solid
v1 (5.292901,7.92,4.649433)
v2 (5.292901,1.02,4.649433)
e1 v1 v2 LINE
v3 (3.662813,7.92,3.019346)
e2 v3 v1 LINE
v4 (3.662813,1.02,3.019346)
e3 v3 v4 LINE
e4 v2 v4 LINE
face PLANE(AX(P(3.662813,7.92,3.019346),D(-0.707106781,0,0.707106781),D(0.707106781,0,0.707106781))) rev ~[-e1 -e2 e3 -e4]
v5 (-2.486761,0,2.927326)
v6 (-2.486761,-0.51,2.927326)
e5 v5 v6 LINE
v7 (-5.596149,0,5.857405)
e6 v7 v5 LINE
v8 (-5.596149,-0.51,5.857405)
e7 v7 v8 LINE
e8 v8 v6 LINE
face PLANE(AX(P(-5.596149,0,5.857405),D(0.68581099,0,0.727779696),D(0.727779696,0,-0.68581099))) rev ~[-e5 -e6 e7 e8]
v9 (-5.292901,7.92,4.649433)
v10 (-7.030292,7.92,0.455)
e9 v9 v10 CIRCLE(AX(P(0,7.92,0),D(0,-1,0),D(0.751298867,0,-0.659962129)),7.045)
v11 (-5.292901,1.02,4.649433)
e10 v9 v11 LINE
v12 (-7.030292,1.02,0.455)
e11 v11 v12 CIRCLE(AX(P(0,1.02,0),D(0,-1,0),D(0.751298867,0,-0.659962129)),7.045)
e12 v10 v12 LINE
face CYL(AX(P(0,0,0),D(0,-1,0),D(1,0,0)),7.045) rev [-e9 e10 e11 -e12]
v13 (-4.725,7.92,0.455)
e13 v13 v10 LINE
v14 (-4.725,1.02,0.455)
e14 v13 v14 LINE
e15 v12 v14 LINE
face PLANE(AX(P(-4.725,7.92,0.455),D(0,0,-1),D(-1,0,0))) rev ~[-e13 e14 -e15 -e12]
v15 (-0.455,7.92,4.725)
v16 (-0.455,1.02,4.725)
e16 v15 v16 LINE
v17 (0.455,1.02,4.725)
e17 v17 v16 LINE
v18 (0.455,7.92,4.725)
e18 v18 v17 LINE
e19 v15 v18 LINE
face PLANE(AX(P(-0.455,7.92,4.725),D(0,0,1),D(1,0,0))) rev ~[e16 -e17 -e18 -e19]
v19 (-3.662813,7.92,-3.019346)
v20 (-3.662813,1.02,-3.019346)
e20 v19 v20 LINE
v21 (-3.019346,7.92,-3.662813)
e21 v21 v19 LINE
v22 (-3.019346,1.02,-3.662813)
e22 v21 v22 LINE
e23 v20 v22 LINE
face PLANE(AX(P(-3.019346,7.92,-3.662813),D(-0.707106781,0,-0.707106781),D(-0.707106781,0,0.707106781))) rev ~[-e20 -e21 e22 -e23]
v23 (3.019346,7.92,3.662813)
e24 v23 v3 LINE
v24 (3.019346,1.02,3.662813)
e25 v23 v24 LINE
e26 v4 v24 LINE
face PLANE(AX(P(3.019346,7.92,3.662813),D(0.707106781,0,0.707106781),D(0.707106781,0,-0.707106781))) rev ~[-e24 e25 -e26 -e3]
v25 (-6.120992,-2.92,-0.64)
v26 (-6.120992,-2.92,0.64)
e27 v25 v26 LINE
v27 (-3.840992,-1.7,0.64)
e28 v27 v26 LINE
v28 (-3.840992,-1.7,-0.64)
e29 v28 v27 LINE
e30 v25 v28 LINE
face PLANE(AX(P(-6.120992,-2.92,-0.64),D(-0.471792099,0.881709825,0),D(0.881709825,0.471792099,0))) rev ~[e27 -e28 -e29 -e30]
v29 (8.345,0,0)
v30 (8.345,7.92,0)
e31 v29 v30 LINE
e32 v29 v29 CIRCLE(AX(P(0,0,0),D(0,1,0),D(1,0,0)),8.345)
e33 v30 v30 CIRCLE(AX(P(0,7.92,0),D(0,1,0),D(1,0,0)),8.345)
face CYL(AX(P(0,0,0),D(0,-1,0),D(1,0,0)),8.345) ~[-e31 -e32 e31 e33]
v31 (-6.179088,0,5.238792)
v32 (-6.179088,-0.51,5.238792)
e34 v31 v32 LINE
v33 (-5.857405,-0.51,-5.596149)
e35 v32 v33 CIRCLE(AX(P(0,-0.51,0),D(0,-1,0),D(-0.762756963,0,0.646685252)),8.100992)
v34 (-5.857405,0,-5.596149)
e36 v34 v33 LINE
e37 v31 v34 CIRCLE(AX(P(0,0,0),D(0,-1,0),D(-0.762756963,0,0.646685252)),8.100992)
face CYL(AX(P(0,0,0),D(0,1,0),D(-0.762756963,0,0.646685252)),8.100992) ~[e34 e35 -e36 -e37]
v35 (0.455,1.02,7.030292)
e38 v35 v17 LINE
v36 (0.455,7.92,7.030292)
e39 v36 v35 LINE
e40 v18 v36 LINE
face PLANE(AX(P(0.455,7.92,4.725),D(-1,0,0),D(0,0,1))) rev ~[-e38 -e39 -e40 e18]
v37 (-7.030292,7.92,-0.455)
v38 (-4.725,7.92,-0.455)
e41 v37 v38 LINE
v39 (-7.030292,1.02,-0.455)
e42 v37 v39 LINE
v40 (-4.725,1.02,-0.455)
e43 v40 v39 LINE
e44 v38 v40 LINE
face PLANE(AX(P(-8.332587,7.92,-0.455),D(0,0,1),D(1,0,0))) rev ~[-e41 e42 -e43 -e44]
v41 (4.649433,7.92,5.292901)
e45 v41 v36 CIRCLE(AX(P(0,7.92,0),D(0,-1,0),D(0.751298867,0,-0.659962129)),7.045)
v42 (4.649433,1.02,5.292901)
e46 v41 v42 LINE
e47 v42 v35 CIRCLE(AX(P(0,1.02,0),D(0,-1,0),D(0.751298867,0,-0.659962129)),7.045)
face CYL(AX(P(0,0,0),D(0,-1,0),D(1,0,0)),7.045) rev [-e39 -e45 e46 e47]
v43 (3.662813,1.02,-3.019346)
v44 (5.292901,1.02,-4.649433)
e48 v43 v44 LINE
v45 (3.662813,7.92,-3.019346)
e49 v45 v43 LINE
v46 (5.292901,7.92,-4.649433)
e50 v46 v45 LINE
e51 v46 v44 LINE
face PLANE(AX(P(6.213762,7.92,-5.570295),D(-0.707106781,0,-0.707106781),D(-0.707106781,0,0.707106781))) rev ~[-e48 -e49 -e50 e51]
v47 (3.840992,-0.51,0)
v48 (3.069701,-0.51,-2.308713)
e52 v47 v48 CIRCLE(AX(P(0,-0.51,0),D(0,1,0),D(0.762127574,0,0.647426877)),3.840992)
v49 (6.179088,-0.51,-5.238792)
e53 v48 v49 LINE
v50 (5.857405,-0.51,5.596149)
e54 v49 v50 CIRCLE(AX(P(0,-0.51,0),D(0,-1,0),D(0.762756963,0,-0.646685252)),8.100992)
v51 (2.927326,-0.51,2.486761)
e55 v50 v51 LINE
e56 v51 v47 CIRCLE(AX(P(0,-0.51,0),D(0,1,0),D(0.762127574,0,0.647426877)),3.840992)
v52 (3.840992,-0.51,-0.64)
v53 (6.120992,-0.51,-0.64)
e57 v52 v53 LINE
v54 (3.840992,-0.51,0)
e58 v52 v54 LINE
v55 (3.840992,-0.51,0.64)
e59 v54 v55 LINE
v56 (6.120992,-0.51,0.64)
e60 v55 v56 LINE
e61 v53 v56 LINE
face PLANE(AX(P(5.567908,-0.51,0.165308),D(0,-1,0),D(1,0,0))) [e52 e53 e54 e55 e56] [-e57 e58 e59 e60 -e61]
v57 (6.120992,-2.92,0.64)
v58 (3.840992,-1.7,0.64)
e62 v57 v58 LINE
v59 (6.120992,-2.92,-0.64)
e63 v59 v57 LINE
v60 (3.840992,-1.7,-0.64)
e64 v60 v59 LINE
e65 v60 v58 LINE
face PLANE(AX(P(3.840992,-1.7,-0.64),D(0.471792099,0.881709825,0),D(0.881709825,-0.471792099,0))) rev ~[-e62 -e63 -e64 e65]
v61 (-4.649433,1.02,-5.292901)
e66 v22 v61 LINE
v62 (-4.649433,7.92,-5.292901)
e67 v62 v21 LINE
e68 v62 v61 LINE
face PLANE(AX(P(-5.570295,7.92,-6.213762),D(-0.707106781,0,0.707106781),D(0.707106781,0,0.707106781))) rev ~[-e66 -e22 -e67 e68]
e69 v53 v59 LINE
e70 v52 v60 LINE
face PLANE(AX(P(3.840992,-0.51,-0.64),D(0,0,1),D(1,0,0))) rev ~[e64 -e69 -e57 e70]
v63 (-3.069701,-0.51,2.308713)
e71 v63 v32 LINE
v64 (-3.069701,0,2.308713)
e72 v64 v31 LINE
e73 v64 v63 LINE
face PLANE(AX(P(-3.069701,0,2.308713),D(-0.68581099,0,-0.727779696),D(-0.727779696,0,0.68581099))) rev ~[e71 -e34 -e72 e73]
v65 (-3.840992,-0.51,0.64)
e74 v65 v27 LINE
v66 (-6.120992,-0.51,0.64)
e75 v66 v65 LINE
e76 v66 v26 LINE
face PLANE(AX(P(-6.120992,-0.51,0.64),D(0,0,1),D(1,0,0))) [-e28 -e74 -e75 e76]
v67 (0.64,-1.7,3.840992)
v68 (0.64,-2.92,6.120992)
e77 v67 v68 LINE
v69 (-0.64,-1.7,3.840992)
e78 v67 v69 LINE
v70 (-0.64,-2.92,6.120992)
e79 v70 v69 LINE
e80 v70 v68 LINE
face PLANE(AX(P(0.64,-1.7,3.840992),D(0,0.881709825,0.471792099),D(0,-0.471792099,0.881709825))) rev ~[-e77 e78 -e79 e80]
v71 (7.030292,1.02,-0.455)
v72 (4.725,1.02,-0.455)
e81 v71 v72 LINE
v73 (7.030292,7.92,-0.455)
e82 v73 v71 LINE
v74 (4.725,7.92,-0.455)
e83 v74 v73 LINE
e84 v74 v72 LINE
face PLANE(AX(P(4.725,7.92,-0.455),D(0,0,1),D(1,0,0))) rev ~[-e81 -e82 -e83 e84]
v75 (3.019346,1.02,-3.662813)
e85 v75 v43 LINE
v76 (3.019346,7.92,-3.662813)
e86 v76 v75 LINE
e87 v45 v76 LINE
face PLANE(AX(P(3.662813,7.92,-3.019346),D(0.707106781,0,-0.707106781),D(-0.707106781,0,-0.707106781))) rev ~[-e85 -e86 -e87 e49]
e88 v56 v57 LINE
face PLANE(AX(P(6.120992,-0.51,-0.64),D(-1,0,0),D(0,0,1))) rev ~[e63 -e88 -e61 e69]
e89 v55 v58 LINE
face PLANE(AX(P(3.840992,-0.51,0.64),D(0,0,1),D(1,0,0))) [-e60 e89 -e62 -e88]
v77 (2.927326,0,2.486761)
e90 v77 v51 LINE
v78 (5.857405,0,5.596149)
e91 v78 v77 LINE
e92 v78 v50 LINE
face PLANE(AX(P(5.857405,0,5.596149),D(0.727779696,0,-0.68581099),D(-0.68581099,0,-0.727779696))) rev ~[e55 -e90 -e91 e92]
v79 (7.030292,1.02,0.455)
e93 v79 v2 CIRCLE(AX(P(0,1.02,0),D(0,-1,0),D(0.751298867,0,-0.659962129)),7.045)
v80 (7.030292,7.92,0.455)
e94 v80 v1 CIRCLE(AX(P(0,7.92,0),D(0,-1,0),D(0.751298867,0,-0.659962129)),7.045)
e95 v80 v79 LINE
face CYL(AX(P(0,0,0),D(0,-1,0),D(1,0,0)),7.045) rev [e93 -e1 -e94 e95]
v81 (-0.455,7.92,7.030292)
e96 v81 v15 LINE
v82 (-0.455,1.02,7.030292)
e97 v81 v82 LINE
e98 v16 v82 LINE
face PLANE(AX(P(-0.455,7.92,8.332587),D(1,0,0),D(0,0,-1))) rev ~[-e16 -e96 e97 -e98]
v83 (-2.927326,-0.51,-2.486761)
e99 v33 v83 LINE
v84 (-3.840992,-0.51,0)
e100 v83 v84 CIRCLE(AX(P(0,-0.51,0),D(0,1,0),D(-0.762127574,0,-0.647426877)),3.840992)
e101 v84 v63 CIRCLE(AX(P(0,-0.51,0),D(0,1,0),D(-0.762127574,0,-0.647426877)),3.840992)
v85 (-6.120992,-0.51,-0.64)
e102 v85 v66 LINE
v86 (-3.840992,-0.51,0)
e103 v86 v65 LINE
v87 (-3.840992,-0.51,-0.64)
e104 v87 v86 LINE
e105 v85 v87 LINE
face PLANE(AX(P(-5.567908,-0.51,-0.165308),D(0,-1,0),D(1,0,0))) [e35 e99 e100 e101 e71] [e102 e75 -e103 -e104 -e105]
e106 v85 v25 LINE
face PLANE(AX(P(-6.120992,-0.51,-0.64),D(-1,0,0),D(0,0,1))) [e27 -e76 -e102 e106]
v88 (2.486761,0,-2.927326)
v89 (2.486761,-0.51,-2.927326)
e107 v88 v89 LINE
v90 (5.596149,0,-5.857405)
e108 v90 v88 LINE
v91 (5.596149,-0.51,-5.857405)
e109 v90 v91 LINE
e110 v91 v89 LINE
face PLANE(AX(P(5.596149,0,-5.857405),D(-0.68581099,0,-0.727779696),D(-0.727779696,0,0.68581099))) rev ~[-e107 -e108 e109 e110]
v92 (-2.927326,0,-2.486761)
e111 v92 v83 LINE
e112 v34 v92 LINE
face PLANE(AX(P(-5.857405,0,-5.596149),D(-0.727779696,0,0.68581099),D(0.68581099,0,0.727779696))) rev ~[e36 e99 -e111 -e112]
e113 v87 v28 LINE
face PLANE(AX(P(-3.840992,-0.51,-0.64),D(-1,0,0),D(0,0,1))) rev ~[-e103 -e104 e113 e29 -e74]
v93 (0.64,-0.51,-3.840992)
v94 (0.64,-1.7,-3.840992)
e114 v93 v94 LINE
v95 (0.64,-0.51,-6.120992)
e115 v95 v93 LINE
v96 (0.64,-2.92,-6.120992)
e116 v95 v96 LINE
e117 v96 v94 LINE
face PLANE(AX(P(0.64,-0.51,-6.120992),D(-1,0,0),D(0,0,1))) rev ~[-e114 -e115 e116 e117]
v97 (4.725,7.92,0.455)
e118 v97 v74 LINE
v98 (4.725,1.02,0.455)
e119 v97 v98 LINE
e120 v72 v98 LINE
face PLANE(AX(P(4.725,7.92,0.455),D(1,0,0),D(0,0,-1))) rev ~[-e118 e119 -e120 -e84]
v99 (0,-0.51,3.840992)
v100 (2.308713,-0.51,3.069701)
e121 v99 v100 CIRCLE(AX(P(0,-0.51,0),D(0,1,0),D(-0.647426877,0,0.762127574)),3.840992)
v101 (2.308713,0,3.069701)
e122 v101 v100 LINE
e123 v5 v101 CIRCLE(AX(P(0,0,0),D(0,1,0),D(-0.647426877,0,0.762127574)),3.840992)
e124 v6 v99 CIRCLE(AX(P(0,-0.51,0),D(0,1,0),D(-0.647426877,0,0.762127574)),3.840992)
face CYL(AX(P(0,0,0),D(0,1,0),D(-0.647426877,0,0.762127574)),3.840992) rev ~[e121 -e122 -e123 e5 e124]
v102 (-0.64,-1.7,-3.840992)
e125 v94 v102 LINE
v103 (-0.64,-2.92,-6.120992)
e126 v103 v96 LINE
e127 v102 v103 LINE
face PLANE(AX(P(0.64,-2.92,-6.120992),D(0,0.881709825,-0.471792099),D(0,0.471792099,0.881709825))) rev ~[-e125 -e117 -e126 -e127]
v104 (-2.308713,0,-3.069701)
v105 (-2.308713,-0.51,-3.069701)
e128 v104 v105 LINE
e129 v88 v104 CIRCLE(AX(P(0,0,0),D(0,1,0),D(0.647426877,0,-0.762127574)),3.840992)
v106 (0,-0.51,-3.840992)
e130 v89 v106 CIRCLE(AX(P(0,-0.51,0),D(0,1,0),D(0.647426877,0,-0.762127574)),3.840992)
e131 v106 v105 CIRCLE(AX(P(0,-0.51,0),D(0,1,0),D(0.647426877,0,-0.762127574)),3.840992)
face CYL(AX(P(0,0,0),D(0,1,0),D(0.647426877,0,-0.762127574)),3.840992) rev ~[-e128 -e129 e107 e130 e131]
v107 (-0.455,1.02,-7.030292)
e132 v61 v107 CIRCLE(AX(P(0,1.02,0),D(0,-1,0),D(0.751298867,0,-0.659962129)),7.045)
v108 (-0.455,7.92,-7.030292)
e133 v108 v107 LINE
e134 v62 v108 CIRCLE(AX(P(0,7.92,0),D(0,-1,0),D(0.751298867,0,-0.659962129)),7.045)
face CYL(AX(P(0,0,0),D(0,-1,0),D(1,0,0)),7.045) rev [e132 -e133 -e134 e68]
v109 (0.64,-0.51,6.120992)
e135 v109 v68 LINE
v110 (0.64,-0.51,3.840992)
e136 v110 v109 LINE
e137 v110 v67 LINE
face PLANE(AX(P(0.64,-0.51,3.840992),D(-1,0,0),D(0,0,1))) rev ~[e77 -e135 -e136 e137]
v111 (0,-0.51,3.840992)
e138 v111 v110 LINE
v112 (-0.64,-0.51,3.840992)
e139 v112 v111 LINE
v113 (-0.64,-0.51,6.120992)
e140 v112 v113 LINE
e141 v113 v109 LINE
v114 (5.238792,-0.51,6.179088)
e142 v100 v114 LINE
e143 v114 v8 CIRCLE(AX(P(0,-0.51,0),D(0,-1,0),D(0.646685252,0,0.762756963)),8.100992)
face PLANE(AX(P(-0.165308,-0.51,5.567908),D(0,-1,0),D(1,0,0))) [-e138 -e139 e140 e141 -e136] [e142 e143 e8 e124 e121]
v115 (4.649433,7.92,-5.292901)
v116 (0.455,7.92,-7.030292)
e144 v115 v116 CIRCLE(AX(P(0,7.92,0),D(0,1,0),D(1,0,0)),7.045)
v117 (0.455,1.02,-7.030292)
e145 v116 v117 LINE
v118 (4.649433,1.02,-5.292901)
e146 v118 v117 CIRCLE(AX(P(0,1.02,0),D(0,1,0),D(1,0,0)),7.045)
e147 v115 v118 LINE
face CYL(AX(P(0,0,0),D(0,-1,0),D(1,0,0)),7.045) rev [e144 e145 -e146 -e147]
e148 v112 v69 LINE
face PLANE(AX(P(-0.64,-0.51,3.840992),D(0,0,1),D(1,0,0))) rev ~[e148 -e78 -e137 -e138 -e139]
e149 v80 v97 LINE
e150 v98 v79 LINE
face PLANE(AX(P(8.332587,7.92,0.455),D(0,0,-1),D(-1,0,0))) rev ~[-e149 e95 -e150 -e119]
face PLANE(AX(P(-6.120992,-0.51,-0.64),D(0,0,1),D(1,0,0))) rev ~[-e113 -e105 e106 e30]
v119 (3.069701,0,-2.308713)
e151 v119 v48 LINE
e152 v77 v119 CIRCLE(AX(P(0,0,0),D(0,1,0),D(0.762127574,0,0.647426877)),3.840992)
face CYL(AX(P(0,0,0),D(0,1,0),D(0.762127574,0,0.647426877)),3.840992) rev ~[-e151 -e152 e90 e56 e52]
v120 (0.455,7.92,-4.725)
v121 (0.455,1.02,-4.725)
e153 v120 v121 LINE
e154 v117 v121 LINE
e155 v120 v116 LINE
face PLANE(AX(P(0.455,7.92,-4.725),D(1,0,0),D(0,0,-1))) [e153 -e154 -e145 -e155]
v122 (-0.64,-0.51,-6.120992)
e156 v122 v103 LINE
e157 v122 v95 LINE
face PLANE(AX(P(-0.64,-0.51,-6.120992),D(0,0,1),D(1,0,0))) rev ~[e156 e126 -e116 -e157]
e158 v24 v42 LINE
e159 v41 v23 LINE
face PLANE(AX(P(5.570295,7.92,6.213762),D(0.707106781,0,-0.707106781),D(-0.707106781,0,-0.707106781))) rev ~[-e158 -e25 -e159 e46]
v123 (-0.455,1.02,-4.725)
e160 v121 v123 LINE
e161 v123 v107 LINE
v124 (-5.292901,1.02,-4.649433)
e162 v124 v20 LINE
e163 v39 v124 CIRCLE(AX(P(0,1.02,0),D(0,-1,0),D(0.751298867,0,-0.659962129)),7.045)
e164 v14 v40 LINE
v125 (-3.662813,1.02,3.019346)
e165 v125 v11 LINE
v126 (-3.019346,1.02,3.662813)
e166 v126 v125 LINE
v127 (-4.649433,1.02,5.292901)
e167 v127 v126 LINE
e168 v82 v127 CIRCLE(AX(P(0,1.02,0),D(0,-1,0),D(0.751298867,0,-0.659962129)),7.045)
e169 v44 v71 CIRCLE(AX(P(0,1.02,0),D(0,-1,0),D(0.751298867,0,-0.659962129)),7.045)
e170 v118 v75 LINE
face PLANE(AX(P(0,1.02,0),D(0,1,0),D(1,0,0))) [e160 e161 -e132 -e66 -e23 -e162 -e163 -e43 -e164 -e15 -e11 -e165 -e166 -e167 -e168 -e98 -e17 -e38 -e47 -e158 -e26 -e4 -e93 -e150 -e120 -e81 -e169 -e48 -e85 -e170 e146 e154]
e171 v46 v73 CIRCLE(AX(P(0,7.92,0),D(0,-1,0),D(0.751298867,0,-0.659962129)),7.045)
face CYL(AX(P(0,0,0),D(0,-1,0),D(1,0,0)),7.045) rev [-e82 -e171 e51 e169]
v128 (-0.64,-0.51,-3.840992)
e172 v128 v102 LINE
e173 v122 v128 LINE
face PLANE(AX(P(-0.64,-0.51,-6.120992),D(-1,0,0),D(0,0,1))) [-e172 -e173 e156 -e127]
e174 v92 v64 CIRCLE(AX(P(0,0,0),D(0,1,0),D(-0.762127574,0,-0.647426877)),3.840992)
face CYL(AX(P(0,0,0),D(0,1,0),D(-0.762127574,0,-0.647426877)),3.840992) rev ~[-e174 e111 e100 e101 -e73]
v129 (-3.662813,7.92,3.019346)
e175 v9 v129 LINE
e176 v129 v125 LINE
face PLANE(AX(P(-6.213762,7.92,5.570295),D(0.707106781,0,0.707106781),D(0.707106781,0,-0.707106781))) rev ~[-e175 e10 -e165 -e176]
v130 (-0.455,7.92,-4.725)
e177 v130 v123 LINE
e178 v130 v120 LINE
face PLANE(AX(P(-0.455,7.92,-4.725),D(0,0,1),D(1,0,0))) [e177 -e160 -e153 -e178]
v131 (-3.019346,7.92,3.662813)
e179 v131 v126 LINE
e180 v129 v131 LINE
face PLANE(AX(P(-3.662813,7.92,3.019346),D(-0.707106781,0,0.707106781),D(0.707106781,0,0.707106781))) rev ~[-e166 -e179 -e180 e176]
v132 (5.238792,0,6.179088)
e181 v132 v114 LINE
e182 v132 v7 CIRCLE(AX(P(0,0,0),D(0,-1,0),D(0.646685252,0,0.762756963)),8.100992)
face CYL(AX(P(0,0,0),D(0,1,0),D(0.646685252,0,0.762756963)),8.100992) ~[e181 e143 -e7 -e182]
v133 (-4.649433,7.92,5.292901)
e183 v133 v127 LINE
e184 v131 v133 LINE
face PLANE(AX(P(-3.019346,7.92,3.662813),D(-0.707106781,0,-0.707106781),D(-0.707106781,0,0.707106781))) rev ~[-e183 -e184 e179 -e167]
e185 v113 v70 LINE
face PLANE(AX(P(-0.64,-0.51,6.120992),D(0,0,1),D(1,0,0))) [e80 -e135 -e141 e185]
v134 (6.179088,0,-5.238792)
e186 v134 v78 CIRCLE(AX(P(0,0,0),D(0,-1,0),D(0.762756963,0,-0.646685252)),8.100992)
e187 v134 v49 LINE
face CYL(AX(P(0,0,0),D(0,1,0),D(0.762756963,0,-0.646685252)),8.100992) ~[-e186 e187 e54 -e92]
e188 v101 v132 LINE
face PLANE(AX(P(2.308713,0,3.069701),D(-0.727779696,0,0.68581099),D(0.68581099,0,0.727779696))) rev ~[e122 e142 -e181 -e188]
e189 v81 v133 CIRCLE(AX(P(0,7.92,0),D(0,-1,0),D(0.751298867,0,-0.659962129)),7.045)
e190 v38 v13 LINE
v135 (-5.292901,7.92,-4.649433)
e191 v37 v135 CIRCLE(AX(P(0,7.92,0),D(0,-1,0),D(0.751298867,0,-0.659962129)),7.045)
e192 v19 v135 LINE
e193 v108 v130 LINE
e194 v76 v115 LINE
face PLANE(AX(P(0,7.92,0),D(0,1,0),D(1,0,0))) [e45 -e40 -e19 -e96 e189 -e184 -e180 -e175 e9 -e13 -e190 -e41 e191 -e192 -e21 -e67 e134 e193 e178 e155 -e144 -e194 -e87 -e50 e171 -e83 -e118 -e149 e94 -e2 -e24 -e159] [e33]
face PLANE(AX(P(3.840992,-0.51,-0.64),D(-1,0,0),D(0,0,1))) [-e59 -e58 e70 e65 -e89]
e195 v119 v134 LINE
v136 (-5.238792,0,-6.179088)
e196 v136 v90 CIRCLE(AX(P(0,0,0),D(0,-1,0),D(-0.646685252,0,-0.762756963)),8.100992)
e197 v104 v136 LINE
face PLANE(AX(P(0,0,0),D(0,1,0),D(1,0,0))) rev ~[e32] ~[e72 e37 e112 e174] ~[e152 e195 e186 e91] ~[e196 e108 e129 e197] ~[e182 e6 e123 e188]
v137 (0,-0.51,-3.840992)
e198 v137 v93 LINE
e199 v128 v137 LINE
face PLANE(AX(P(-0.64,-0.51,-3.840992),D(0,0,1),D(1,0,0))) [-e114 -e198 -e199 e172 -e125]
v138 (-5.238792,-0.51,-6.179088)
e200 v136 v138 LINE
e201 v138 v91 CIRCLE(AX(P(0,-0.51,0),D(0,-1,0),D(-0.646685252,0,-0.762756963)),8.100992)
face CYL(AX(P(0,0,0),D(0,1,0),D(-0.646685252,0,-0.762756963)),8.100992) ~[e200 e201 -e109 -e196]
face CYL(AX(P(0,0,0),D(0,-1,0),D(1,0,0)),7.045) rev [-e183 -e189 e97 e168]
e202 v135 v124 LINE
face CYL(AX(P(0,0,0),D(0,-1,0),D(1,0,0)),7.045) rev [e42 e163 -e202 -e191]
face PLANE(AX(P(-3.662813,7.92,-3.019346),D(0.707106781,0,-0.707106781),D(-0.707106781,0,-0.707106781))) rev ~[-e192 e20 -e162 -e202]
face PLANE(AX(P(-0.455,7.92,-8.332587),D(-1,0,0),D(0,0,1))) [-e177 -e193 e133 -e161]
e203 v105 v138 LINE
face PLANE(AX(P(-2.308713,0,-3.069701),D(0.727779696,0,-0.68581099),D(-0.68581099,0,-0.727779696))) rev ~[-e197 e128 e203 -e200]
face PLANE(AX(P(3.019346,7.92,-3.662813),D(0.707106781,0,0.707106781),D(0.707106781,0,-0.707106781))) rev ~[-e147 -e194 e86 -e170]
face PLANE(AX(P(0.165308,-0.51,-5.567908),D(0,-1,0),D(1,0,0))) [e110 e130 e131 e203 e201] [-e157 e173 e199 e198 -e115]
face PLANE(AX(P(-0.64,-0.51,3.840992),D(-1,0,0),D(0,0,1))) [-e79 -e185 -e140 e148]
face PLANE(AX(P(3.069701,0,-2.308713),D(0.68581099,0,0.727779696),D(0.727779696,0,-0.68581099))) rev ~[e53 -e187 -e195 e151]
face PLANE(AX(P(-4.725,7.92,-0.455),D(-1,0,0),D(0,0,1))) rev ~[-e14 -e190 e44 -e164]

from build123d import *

# Parameters (mm, degrees)
SKETCH1_R           = 8.345
SKETCH1_R_2         = 7.045
BOSS_EXTRUDE1_DEPTH = 7.92
SKETCH2_R           = 7.045000007
BOSS_EXTRUDE2_DEPTH = 1.02
BOSS_EXTRUDE3_REACH = 16.213
BOSS_EXTRUDE4_DEPTH = 0.51
SKETCH5_W           = 1.28
SKETCH5_H           = 2.28
SKETCH5_W_2         = 2.28
SKETCH5_H_2         = 1.28
BOSS_EXTRUDE5_DEPTH = 2.41
CUT_EXTRUDE1_DEPTH  = 15.597796067
CUT_EXTRUDE2_DEPTH  = 2.41
CUT_EXTRUDE3_DEPTH  = 2.41


with BuildPart() as part:
    # Sketch1 → Boss-Extrude1 (new body)
    with BuildSketch(Plane(origin=(0, 0, 0), x_dir=(1, 0, 0), z_dir=(0, 1, 0))):
        Circle(SKETCH1_R)
        Circle(SKETCH1_R_2, mode=Mode.SUBTRACT)
    extrude(amount=BOSS_EXTRUDE1_DEPTH)

    # Sketch2 → Boss-Extrude2 (add)
    with BuildSketch(Plane(origin=(0, 0, 0), x_dir=(1, 0, 0), z_dir=(0, 1, 0))):
        Circle(SKETCH2_R)
    extrude(amount=BOSS_EXTRUDE2_DEPTH)

    # Sketch3 → Boss-Extrude3 (add, up to next)
    with BuildSketch(Plane(origin=(0, 7.92, 0), x_dir=(1, 0, 0), z_dir=(0, 1, 0)), mode=Mode.PRIVATE) as boss_extrude3_sk1:
        with BuildLine():
            Line((-0.455000106, 4.724999874), (0.455000106, 4.724999874))
            Line((0.455000106, 4.724999874), (0.455000106, 8.332586627))
            ThreePointArc((0.455000106, 8.332586627), (0, 8.345), (-0.455000106, 8.332586627))
            Line((-0.455000106, 8.332586627), (-0.455000106, 4.724999874))
        make_face()
    boss_extrude3_tool1 = extrude(boss_extrude3_sk1.sketch, amount=-BOSS_EXTRUDE3_REACH, mode=Mode.PRIVATE) - part.part
    # Sketch3 → Boss-Extrude3 (add, up to next)
    with BuildSketch(Plane(origin=(0, 7.92, 0), x_dir=(1, 0, 0), z_dir=(0, 1, 0)), mode=Mode.PRIVATE) as boss_extrude3_sk2:
        with BuildLine():
            Line((3.019345792, 3.662813112), (5.570294849, 6.213762169))
            ThreePointArc((5.570294849, 6.213762169), (5.900806089, 5.900806089), (6.213762169, 5.570294849))
            Line((6.213762169, 5.570294849), (3.662813112, 3.019345792))
            Line((3.662813112, 3.019345792), (3.019345792, 3.662813112))
        make_face()
    boss_extrude3_tool2 = extrude(boss_extrude3_sk2.sketch, amount=-BOSS_EXTRUDE3_REACH, mode=Mode.PRIVATE) - part.part
    # Sketch3 → Boss-Extrude3 (add, up to next)
    with BuildSketch(Plane(origin=(0, 7.92, 0), x_dir=(1, 0, 0), z_dir=(0, 1, 0)), mode=Mode.PRIVATE) as boss_extrude3_sk3:
        with BuildLine():
            Line((4.724999874, 0.455000106), (8.332586627, 0.455000106))
            ThreePointArc((8.332586627, 0.455000106), (8.345, 0), (8.332586627, -0.455000106))
            Line((8.332586627, -0.455000106), (4.724999874, -0.455000106))
            Line((4.724999874, -0.455000106), (4.724999874, 0.455000106))
        make_face()
    boss_extrude3_tool3 = extrude(boss_extrude3_sk3.sketch, amount=-BOSS_EXTRUDE3_REACH, mode=Mode.PRIVATE) - part.part
    # Sketch3 → Boss-Extrude3 (add, up to next)
    with BuildSketch(Plane(origin=(0, 7.92, 0), x_dir=(1, 0, 0), z_dir=(0, 1, 0)), mode=Mode.PRIVATE) as boss_extrude3_sk4:
        with BuildLine():
            Line((3.662813112, -3.019345792), (6.213762169, -5.570294849))
            ThreePointArc((6.213762169, -5.570294849), (5.900806089, -5.900806089), (5.570294849, -6.213762169))
            Line((5.570294849, -6.213762169), (3.019345792, -3.662813112))
            Line((3.019345792, -3.662813112), (3.662813112, -3.019345792))
        make_face()
    boss_extrude3_tool4 = extrude(boss_extrude3_sk4.sketch, amount=-BOSS_EXTRUDE3_REACH, mode=Mode.PRIVATE) - part.part
    # Sketch3 → Boss-Extrude3 (add, up to next)
    with BuildSketch(Plane(origin=(0, 7.92, 0), x_dir=(1, 0, 0), z_dir=(0, 1, 0)), mode=Mode.PRIVATE) as boss_extrude3_sk5:
        with BuildLine():
            Line((0.455000106, -4.724999874), (0.455000106, -8.332586627))
            ThreePointArc((0.455000106, -8.332586627), (0, -8.345), (-0.455000106, -8.332586627))
            Line((-0.455000106, -8.332586627), (-0.455000106, -4.724999874))
            Line((-0.455000106, -4.724999874), (0.455000106, -4.724999874))
        make_face()
    boss_extrude3_tool5 = extrude(boss_extrude3_sk5.sketch, amount=-BOSS_EXTRUDE3_REACH, mode=Mode.PRIVATE) - part.part
    # Sketch3 → Boss-Extrude3 (add, up to next)
    with BuildSketch(Plane(origin=(0, 7.92, 0), x_dir=(1, 0, 0), z_dir=(0, 1, 0)), mode=Mode.PRIVATE) as boss_extrude3_sk6:
        with BuildLine():
            Line((-3.019345792, -3.662813112), (-5.570294849, -6.213762169))
            ThreePointArc((-5.570294849, -6.213762169), (-5.900806089, -5.900806089), (-6.213762169, -5.570294849))
            Line((-6.213762169, -5.570294849), (-3.662813112, -3.019345792))
            Line((-3.662813112, -3.019345792), (-3.019345792, -3.662813112))
        make_face()
    boss_extrude3_tool6 = extrude(boss_extrude3_sk6.sketch, amount=-BOSS_EXTRUDE3_REACH, mode=Mode.PRIVATE) - part.part
    # Sketch3 → Boss-Extrude3 (add, up to next)
    with BuildSketch(Plane(origin=(0, 7.92, 0), x_dir=(1, 0, 0), z_dir=(0, 1, 0)), mode=Mode.PRIVATE) as boss_extrude3_sk7:
        with BuildLine():
            Line((-4.724999874, -0.455000106), (-8.332586627, -0.455000106))
            ThreePointArc((-8.332586627, -0.455000106), (-8.345, 0), (-8.332586627, 0.455000106))
            Line((-8.332586627, 0.455000106), (-4.724999874, 0.455000106))
            Line((-4.724999874, 0.455000106), (-4.724999874, -0.455000106))
        make_face()
    boss_extrude3_tool7 = extrude(boss_extrude3_sk7.sketch, amount=-BOSS_EXTRUDE3_REACH, mode=Mode.PRIVATE) - part.part
    # Sketch3 → Boss-Extrude3 (add, up to next)
    with BuildSketch(Plane(origin=(0, 7.92, 0), x_dir=(1, 0, 0), z_dir=(0, 1, 0)), mode=Mode.PRIVATE) as boss_extrude3_sk8:
        with BuildLine():
            Line((-3.662813112, 3.019345792), (-6.213762169, 5.570294849))
            ThreePointArc((-6.213762169, 5.570294849), (-5.900806089, 5.900806089), (-5.570294849, 6.213762169))
            Line((-5.570294849, 6.213762169), (-3.019345792, 3.662813112))
            Line((-3.019345792, 3.662813112), (-3.662813112, 3.019345792))
        make_face()
    boss_extrude3_tool8 = extrude(boss_extrude3_sk8.sketch, amount=-BOSS_EXTRUDE3_REACH, mode=Mode.PRIVATE) - part.part
    add(boss_extrude3_tool1.solids().sort_by_distance((0, 7.92, -6.532934))[0])
    add(boss_extrude3_tool2.solids().sort_by_distance((4.619482, 7.92, -4.619482))[0])
    add(boss_extrude3_tool3.solids().sort_by_distance((6.532934, 7.92, 0))[0])
    add(boss_extrude3_tool4.solids().sort_by_distance((4.619482, 7.92, 4.619482))[0])
    add(boss_extrude3_tool5.solids().sort_by_distance((0, 7.92, 6.532934))[0])
    add(boss_extrude3_tool6.solids().sort_by_distance((-4.619482, 7.92, 4.619482))[0])
    add(boss_extrude3_tool7.solids().sort_by_distance((-6.532934, 7.92, 0))[0])
    add(boss_extrude3_tool8.solids().sort_by_distance((-4.619482, 7.92, -4.619482))[0])

    # Sketch4 → Boss-Extrude4 (add)
    with BuildSketch(Plane.XZ):
        with BuildLine():
            ThreePointArc((6.179087875, -5.238791894), (8.097423758, 0.240407921), (5.857404636, 5.596148534))
            Line((5.857404636, 5.596148534), (2.927325729, 2.486761301))
            ThreePointArc((2.927325729, 2.486761301), (3.839300032, 0.113986642), (3.069700642, -2.308712987))
            Line((3.069700642, -2.308712987), (6.179087875, -5.238791894))
        make_face()
        with BuildLine():
            Line((2.308712987, 3.069700642), (5.238791894, 6.179087875))
            ThreePointArc((5.238791894, 6.179087875), (-0.240407921, 8.097423758), (-5.596148534, 5.857404636))
            Line((-5.596148534, 5.857404636), (-2.486761301, 2.927325729))
            ThreePointArc((-2.486761301, 2.927325729), (-0.113986642, 3.839300032), (2.308712987, 3.069700642))
        make_face()
        with BuildLine():
            Line((-3.069700642, 2.308712987), (-6.179087875, 5.238791894))
            ThreePointArc((-6.179087875, 5.238791894), (-8.097423758, -0.240407921), (-5.857404636, -5.596148534))
            Line((-5.857404636, -5.596148534), (-2.927325729, -2.486761301))
            ThreePointArc((-2.927325729, -2.486761301), (-3.839300032, -0.113986642), (-3.069700642, 2.308712987))
        make_face()
        with BuildLine():
            ThreePointArc((-5.238791894, -6.179087875), (0.240407921, -8.097423758), (5.596148534, -5.857404636))
            Line((5.596148534, -5.857404636), (2.486761301, -2.927325729))
            ThreePointArc((2.486761301, -2.927325729), (0.113986642, -3.839300032), (-2.308712987, -3.069700642))
            Line((-2.308712987, -3.069700642), (-5.238791894, -6.179087875))
        make_face()
    extrude(amount=BOSS_EXTRUDE4_DEPTH)

    # Sketch5 → Boss-Extrude5 (add)
    with BuildSketch(Plane.XZ.offset(0.51)):
        with Locations((0, 4.98099181)):
            Rectangle(SKETCH5_W, SKETCH5_H)
        with Locations((4.98099181, 0)):
            Rectangle(SKETCH5_W_2, SKETCH5_H_2)
        with Locations((0, -4.98099181)):
            Rectangle(SKETCH5_W, SKETCH5_H)
        with Locations((-4.98099181, 0)):
            Rectangle(SKETCH5_W_2, SKETCH5_H_2)
    extrude(amount=BOSS_EXTRUDE5_DEPTH)

    # Sketch6 → Cut-Extrude1 (cut, through all)
    with BuildSketch(Plane(origin=(0, 0, -0.64), x_dir=(-1, 0, 0), z_dir=(0, 0, -1))):
        Polygon((6.12099181, -2.92), (3.84099181, -1.7), (3.84099181, -2.92), align=None)
    extrude(amount=-CUT_EXTRUDE1_DEPTH, mode=Mode.SUBTRACT)

    # Sketch7 → Cut-Extrude2 (cut)
    with BuildSketch(Plane(origin=(0.64, 0, 0), x_dir=(0, 0, -1), z_dir=(1, 0, 0))):
        Polygon((6.12099181, -2.92), (3.84099181, -1.7), (3.84099181, -2.92), align=None)
        Polygon((-3.84099181, -2.92), (-3.84099181, -1.7), (-6.12099181, -2.92), align=None)
    extrude(amount=-CUT_EXTRUDE2_DEPTH, mode=Mode.SUBTRACT)

    # Sketch6<3> → Cut-Extrude3 (cut)
    with BuildSketch(Plane(origin=(0, 0, -0.64), x_dir=(-1, 0, 0), z_dir=(0, 0, -1))):
        Polygon((-3.84099181, -2.92), (-3.84099181, -1.7), (-6.12099181, -2.92), align=None)
    extrude(amount=-CUT_EXTRUDE3_DEPTH, mode=Mode.SUBTRACT)


solid = part.part
